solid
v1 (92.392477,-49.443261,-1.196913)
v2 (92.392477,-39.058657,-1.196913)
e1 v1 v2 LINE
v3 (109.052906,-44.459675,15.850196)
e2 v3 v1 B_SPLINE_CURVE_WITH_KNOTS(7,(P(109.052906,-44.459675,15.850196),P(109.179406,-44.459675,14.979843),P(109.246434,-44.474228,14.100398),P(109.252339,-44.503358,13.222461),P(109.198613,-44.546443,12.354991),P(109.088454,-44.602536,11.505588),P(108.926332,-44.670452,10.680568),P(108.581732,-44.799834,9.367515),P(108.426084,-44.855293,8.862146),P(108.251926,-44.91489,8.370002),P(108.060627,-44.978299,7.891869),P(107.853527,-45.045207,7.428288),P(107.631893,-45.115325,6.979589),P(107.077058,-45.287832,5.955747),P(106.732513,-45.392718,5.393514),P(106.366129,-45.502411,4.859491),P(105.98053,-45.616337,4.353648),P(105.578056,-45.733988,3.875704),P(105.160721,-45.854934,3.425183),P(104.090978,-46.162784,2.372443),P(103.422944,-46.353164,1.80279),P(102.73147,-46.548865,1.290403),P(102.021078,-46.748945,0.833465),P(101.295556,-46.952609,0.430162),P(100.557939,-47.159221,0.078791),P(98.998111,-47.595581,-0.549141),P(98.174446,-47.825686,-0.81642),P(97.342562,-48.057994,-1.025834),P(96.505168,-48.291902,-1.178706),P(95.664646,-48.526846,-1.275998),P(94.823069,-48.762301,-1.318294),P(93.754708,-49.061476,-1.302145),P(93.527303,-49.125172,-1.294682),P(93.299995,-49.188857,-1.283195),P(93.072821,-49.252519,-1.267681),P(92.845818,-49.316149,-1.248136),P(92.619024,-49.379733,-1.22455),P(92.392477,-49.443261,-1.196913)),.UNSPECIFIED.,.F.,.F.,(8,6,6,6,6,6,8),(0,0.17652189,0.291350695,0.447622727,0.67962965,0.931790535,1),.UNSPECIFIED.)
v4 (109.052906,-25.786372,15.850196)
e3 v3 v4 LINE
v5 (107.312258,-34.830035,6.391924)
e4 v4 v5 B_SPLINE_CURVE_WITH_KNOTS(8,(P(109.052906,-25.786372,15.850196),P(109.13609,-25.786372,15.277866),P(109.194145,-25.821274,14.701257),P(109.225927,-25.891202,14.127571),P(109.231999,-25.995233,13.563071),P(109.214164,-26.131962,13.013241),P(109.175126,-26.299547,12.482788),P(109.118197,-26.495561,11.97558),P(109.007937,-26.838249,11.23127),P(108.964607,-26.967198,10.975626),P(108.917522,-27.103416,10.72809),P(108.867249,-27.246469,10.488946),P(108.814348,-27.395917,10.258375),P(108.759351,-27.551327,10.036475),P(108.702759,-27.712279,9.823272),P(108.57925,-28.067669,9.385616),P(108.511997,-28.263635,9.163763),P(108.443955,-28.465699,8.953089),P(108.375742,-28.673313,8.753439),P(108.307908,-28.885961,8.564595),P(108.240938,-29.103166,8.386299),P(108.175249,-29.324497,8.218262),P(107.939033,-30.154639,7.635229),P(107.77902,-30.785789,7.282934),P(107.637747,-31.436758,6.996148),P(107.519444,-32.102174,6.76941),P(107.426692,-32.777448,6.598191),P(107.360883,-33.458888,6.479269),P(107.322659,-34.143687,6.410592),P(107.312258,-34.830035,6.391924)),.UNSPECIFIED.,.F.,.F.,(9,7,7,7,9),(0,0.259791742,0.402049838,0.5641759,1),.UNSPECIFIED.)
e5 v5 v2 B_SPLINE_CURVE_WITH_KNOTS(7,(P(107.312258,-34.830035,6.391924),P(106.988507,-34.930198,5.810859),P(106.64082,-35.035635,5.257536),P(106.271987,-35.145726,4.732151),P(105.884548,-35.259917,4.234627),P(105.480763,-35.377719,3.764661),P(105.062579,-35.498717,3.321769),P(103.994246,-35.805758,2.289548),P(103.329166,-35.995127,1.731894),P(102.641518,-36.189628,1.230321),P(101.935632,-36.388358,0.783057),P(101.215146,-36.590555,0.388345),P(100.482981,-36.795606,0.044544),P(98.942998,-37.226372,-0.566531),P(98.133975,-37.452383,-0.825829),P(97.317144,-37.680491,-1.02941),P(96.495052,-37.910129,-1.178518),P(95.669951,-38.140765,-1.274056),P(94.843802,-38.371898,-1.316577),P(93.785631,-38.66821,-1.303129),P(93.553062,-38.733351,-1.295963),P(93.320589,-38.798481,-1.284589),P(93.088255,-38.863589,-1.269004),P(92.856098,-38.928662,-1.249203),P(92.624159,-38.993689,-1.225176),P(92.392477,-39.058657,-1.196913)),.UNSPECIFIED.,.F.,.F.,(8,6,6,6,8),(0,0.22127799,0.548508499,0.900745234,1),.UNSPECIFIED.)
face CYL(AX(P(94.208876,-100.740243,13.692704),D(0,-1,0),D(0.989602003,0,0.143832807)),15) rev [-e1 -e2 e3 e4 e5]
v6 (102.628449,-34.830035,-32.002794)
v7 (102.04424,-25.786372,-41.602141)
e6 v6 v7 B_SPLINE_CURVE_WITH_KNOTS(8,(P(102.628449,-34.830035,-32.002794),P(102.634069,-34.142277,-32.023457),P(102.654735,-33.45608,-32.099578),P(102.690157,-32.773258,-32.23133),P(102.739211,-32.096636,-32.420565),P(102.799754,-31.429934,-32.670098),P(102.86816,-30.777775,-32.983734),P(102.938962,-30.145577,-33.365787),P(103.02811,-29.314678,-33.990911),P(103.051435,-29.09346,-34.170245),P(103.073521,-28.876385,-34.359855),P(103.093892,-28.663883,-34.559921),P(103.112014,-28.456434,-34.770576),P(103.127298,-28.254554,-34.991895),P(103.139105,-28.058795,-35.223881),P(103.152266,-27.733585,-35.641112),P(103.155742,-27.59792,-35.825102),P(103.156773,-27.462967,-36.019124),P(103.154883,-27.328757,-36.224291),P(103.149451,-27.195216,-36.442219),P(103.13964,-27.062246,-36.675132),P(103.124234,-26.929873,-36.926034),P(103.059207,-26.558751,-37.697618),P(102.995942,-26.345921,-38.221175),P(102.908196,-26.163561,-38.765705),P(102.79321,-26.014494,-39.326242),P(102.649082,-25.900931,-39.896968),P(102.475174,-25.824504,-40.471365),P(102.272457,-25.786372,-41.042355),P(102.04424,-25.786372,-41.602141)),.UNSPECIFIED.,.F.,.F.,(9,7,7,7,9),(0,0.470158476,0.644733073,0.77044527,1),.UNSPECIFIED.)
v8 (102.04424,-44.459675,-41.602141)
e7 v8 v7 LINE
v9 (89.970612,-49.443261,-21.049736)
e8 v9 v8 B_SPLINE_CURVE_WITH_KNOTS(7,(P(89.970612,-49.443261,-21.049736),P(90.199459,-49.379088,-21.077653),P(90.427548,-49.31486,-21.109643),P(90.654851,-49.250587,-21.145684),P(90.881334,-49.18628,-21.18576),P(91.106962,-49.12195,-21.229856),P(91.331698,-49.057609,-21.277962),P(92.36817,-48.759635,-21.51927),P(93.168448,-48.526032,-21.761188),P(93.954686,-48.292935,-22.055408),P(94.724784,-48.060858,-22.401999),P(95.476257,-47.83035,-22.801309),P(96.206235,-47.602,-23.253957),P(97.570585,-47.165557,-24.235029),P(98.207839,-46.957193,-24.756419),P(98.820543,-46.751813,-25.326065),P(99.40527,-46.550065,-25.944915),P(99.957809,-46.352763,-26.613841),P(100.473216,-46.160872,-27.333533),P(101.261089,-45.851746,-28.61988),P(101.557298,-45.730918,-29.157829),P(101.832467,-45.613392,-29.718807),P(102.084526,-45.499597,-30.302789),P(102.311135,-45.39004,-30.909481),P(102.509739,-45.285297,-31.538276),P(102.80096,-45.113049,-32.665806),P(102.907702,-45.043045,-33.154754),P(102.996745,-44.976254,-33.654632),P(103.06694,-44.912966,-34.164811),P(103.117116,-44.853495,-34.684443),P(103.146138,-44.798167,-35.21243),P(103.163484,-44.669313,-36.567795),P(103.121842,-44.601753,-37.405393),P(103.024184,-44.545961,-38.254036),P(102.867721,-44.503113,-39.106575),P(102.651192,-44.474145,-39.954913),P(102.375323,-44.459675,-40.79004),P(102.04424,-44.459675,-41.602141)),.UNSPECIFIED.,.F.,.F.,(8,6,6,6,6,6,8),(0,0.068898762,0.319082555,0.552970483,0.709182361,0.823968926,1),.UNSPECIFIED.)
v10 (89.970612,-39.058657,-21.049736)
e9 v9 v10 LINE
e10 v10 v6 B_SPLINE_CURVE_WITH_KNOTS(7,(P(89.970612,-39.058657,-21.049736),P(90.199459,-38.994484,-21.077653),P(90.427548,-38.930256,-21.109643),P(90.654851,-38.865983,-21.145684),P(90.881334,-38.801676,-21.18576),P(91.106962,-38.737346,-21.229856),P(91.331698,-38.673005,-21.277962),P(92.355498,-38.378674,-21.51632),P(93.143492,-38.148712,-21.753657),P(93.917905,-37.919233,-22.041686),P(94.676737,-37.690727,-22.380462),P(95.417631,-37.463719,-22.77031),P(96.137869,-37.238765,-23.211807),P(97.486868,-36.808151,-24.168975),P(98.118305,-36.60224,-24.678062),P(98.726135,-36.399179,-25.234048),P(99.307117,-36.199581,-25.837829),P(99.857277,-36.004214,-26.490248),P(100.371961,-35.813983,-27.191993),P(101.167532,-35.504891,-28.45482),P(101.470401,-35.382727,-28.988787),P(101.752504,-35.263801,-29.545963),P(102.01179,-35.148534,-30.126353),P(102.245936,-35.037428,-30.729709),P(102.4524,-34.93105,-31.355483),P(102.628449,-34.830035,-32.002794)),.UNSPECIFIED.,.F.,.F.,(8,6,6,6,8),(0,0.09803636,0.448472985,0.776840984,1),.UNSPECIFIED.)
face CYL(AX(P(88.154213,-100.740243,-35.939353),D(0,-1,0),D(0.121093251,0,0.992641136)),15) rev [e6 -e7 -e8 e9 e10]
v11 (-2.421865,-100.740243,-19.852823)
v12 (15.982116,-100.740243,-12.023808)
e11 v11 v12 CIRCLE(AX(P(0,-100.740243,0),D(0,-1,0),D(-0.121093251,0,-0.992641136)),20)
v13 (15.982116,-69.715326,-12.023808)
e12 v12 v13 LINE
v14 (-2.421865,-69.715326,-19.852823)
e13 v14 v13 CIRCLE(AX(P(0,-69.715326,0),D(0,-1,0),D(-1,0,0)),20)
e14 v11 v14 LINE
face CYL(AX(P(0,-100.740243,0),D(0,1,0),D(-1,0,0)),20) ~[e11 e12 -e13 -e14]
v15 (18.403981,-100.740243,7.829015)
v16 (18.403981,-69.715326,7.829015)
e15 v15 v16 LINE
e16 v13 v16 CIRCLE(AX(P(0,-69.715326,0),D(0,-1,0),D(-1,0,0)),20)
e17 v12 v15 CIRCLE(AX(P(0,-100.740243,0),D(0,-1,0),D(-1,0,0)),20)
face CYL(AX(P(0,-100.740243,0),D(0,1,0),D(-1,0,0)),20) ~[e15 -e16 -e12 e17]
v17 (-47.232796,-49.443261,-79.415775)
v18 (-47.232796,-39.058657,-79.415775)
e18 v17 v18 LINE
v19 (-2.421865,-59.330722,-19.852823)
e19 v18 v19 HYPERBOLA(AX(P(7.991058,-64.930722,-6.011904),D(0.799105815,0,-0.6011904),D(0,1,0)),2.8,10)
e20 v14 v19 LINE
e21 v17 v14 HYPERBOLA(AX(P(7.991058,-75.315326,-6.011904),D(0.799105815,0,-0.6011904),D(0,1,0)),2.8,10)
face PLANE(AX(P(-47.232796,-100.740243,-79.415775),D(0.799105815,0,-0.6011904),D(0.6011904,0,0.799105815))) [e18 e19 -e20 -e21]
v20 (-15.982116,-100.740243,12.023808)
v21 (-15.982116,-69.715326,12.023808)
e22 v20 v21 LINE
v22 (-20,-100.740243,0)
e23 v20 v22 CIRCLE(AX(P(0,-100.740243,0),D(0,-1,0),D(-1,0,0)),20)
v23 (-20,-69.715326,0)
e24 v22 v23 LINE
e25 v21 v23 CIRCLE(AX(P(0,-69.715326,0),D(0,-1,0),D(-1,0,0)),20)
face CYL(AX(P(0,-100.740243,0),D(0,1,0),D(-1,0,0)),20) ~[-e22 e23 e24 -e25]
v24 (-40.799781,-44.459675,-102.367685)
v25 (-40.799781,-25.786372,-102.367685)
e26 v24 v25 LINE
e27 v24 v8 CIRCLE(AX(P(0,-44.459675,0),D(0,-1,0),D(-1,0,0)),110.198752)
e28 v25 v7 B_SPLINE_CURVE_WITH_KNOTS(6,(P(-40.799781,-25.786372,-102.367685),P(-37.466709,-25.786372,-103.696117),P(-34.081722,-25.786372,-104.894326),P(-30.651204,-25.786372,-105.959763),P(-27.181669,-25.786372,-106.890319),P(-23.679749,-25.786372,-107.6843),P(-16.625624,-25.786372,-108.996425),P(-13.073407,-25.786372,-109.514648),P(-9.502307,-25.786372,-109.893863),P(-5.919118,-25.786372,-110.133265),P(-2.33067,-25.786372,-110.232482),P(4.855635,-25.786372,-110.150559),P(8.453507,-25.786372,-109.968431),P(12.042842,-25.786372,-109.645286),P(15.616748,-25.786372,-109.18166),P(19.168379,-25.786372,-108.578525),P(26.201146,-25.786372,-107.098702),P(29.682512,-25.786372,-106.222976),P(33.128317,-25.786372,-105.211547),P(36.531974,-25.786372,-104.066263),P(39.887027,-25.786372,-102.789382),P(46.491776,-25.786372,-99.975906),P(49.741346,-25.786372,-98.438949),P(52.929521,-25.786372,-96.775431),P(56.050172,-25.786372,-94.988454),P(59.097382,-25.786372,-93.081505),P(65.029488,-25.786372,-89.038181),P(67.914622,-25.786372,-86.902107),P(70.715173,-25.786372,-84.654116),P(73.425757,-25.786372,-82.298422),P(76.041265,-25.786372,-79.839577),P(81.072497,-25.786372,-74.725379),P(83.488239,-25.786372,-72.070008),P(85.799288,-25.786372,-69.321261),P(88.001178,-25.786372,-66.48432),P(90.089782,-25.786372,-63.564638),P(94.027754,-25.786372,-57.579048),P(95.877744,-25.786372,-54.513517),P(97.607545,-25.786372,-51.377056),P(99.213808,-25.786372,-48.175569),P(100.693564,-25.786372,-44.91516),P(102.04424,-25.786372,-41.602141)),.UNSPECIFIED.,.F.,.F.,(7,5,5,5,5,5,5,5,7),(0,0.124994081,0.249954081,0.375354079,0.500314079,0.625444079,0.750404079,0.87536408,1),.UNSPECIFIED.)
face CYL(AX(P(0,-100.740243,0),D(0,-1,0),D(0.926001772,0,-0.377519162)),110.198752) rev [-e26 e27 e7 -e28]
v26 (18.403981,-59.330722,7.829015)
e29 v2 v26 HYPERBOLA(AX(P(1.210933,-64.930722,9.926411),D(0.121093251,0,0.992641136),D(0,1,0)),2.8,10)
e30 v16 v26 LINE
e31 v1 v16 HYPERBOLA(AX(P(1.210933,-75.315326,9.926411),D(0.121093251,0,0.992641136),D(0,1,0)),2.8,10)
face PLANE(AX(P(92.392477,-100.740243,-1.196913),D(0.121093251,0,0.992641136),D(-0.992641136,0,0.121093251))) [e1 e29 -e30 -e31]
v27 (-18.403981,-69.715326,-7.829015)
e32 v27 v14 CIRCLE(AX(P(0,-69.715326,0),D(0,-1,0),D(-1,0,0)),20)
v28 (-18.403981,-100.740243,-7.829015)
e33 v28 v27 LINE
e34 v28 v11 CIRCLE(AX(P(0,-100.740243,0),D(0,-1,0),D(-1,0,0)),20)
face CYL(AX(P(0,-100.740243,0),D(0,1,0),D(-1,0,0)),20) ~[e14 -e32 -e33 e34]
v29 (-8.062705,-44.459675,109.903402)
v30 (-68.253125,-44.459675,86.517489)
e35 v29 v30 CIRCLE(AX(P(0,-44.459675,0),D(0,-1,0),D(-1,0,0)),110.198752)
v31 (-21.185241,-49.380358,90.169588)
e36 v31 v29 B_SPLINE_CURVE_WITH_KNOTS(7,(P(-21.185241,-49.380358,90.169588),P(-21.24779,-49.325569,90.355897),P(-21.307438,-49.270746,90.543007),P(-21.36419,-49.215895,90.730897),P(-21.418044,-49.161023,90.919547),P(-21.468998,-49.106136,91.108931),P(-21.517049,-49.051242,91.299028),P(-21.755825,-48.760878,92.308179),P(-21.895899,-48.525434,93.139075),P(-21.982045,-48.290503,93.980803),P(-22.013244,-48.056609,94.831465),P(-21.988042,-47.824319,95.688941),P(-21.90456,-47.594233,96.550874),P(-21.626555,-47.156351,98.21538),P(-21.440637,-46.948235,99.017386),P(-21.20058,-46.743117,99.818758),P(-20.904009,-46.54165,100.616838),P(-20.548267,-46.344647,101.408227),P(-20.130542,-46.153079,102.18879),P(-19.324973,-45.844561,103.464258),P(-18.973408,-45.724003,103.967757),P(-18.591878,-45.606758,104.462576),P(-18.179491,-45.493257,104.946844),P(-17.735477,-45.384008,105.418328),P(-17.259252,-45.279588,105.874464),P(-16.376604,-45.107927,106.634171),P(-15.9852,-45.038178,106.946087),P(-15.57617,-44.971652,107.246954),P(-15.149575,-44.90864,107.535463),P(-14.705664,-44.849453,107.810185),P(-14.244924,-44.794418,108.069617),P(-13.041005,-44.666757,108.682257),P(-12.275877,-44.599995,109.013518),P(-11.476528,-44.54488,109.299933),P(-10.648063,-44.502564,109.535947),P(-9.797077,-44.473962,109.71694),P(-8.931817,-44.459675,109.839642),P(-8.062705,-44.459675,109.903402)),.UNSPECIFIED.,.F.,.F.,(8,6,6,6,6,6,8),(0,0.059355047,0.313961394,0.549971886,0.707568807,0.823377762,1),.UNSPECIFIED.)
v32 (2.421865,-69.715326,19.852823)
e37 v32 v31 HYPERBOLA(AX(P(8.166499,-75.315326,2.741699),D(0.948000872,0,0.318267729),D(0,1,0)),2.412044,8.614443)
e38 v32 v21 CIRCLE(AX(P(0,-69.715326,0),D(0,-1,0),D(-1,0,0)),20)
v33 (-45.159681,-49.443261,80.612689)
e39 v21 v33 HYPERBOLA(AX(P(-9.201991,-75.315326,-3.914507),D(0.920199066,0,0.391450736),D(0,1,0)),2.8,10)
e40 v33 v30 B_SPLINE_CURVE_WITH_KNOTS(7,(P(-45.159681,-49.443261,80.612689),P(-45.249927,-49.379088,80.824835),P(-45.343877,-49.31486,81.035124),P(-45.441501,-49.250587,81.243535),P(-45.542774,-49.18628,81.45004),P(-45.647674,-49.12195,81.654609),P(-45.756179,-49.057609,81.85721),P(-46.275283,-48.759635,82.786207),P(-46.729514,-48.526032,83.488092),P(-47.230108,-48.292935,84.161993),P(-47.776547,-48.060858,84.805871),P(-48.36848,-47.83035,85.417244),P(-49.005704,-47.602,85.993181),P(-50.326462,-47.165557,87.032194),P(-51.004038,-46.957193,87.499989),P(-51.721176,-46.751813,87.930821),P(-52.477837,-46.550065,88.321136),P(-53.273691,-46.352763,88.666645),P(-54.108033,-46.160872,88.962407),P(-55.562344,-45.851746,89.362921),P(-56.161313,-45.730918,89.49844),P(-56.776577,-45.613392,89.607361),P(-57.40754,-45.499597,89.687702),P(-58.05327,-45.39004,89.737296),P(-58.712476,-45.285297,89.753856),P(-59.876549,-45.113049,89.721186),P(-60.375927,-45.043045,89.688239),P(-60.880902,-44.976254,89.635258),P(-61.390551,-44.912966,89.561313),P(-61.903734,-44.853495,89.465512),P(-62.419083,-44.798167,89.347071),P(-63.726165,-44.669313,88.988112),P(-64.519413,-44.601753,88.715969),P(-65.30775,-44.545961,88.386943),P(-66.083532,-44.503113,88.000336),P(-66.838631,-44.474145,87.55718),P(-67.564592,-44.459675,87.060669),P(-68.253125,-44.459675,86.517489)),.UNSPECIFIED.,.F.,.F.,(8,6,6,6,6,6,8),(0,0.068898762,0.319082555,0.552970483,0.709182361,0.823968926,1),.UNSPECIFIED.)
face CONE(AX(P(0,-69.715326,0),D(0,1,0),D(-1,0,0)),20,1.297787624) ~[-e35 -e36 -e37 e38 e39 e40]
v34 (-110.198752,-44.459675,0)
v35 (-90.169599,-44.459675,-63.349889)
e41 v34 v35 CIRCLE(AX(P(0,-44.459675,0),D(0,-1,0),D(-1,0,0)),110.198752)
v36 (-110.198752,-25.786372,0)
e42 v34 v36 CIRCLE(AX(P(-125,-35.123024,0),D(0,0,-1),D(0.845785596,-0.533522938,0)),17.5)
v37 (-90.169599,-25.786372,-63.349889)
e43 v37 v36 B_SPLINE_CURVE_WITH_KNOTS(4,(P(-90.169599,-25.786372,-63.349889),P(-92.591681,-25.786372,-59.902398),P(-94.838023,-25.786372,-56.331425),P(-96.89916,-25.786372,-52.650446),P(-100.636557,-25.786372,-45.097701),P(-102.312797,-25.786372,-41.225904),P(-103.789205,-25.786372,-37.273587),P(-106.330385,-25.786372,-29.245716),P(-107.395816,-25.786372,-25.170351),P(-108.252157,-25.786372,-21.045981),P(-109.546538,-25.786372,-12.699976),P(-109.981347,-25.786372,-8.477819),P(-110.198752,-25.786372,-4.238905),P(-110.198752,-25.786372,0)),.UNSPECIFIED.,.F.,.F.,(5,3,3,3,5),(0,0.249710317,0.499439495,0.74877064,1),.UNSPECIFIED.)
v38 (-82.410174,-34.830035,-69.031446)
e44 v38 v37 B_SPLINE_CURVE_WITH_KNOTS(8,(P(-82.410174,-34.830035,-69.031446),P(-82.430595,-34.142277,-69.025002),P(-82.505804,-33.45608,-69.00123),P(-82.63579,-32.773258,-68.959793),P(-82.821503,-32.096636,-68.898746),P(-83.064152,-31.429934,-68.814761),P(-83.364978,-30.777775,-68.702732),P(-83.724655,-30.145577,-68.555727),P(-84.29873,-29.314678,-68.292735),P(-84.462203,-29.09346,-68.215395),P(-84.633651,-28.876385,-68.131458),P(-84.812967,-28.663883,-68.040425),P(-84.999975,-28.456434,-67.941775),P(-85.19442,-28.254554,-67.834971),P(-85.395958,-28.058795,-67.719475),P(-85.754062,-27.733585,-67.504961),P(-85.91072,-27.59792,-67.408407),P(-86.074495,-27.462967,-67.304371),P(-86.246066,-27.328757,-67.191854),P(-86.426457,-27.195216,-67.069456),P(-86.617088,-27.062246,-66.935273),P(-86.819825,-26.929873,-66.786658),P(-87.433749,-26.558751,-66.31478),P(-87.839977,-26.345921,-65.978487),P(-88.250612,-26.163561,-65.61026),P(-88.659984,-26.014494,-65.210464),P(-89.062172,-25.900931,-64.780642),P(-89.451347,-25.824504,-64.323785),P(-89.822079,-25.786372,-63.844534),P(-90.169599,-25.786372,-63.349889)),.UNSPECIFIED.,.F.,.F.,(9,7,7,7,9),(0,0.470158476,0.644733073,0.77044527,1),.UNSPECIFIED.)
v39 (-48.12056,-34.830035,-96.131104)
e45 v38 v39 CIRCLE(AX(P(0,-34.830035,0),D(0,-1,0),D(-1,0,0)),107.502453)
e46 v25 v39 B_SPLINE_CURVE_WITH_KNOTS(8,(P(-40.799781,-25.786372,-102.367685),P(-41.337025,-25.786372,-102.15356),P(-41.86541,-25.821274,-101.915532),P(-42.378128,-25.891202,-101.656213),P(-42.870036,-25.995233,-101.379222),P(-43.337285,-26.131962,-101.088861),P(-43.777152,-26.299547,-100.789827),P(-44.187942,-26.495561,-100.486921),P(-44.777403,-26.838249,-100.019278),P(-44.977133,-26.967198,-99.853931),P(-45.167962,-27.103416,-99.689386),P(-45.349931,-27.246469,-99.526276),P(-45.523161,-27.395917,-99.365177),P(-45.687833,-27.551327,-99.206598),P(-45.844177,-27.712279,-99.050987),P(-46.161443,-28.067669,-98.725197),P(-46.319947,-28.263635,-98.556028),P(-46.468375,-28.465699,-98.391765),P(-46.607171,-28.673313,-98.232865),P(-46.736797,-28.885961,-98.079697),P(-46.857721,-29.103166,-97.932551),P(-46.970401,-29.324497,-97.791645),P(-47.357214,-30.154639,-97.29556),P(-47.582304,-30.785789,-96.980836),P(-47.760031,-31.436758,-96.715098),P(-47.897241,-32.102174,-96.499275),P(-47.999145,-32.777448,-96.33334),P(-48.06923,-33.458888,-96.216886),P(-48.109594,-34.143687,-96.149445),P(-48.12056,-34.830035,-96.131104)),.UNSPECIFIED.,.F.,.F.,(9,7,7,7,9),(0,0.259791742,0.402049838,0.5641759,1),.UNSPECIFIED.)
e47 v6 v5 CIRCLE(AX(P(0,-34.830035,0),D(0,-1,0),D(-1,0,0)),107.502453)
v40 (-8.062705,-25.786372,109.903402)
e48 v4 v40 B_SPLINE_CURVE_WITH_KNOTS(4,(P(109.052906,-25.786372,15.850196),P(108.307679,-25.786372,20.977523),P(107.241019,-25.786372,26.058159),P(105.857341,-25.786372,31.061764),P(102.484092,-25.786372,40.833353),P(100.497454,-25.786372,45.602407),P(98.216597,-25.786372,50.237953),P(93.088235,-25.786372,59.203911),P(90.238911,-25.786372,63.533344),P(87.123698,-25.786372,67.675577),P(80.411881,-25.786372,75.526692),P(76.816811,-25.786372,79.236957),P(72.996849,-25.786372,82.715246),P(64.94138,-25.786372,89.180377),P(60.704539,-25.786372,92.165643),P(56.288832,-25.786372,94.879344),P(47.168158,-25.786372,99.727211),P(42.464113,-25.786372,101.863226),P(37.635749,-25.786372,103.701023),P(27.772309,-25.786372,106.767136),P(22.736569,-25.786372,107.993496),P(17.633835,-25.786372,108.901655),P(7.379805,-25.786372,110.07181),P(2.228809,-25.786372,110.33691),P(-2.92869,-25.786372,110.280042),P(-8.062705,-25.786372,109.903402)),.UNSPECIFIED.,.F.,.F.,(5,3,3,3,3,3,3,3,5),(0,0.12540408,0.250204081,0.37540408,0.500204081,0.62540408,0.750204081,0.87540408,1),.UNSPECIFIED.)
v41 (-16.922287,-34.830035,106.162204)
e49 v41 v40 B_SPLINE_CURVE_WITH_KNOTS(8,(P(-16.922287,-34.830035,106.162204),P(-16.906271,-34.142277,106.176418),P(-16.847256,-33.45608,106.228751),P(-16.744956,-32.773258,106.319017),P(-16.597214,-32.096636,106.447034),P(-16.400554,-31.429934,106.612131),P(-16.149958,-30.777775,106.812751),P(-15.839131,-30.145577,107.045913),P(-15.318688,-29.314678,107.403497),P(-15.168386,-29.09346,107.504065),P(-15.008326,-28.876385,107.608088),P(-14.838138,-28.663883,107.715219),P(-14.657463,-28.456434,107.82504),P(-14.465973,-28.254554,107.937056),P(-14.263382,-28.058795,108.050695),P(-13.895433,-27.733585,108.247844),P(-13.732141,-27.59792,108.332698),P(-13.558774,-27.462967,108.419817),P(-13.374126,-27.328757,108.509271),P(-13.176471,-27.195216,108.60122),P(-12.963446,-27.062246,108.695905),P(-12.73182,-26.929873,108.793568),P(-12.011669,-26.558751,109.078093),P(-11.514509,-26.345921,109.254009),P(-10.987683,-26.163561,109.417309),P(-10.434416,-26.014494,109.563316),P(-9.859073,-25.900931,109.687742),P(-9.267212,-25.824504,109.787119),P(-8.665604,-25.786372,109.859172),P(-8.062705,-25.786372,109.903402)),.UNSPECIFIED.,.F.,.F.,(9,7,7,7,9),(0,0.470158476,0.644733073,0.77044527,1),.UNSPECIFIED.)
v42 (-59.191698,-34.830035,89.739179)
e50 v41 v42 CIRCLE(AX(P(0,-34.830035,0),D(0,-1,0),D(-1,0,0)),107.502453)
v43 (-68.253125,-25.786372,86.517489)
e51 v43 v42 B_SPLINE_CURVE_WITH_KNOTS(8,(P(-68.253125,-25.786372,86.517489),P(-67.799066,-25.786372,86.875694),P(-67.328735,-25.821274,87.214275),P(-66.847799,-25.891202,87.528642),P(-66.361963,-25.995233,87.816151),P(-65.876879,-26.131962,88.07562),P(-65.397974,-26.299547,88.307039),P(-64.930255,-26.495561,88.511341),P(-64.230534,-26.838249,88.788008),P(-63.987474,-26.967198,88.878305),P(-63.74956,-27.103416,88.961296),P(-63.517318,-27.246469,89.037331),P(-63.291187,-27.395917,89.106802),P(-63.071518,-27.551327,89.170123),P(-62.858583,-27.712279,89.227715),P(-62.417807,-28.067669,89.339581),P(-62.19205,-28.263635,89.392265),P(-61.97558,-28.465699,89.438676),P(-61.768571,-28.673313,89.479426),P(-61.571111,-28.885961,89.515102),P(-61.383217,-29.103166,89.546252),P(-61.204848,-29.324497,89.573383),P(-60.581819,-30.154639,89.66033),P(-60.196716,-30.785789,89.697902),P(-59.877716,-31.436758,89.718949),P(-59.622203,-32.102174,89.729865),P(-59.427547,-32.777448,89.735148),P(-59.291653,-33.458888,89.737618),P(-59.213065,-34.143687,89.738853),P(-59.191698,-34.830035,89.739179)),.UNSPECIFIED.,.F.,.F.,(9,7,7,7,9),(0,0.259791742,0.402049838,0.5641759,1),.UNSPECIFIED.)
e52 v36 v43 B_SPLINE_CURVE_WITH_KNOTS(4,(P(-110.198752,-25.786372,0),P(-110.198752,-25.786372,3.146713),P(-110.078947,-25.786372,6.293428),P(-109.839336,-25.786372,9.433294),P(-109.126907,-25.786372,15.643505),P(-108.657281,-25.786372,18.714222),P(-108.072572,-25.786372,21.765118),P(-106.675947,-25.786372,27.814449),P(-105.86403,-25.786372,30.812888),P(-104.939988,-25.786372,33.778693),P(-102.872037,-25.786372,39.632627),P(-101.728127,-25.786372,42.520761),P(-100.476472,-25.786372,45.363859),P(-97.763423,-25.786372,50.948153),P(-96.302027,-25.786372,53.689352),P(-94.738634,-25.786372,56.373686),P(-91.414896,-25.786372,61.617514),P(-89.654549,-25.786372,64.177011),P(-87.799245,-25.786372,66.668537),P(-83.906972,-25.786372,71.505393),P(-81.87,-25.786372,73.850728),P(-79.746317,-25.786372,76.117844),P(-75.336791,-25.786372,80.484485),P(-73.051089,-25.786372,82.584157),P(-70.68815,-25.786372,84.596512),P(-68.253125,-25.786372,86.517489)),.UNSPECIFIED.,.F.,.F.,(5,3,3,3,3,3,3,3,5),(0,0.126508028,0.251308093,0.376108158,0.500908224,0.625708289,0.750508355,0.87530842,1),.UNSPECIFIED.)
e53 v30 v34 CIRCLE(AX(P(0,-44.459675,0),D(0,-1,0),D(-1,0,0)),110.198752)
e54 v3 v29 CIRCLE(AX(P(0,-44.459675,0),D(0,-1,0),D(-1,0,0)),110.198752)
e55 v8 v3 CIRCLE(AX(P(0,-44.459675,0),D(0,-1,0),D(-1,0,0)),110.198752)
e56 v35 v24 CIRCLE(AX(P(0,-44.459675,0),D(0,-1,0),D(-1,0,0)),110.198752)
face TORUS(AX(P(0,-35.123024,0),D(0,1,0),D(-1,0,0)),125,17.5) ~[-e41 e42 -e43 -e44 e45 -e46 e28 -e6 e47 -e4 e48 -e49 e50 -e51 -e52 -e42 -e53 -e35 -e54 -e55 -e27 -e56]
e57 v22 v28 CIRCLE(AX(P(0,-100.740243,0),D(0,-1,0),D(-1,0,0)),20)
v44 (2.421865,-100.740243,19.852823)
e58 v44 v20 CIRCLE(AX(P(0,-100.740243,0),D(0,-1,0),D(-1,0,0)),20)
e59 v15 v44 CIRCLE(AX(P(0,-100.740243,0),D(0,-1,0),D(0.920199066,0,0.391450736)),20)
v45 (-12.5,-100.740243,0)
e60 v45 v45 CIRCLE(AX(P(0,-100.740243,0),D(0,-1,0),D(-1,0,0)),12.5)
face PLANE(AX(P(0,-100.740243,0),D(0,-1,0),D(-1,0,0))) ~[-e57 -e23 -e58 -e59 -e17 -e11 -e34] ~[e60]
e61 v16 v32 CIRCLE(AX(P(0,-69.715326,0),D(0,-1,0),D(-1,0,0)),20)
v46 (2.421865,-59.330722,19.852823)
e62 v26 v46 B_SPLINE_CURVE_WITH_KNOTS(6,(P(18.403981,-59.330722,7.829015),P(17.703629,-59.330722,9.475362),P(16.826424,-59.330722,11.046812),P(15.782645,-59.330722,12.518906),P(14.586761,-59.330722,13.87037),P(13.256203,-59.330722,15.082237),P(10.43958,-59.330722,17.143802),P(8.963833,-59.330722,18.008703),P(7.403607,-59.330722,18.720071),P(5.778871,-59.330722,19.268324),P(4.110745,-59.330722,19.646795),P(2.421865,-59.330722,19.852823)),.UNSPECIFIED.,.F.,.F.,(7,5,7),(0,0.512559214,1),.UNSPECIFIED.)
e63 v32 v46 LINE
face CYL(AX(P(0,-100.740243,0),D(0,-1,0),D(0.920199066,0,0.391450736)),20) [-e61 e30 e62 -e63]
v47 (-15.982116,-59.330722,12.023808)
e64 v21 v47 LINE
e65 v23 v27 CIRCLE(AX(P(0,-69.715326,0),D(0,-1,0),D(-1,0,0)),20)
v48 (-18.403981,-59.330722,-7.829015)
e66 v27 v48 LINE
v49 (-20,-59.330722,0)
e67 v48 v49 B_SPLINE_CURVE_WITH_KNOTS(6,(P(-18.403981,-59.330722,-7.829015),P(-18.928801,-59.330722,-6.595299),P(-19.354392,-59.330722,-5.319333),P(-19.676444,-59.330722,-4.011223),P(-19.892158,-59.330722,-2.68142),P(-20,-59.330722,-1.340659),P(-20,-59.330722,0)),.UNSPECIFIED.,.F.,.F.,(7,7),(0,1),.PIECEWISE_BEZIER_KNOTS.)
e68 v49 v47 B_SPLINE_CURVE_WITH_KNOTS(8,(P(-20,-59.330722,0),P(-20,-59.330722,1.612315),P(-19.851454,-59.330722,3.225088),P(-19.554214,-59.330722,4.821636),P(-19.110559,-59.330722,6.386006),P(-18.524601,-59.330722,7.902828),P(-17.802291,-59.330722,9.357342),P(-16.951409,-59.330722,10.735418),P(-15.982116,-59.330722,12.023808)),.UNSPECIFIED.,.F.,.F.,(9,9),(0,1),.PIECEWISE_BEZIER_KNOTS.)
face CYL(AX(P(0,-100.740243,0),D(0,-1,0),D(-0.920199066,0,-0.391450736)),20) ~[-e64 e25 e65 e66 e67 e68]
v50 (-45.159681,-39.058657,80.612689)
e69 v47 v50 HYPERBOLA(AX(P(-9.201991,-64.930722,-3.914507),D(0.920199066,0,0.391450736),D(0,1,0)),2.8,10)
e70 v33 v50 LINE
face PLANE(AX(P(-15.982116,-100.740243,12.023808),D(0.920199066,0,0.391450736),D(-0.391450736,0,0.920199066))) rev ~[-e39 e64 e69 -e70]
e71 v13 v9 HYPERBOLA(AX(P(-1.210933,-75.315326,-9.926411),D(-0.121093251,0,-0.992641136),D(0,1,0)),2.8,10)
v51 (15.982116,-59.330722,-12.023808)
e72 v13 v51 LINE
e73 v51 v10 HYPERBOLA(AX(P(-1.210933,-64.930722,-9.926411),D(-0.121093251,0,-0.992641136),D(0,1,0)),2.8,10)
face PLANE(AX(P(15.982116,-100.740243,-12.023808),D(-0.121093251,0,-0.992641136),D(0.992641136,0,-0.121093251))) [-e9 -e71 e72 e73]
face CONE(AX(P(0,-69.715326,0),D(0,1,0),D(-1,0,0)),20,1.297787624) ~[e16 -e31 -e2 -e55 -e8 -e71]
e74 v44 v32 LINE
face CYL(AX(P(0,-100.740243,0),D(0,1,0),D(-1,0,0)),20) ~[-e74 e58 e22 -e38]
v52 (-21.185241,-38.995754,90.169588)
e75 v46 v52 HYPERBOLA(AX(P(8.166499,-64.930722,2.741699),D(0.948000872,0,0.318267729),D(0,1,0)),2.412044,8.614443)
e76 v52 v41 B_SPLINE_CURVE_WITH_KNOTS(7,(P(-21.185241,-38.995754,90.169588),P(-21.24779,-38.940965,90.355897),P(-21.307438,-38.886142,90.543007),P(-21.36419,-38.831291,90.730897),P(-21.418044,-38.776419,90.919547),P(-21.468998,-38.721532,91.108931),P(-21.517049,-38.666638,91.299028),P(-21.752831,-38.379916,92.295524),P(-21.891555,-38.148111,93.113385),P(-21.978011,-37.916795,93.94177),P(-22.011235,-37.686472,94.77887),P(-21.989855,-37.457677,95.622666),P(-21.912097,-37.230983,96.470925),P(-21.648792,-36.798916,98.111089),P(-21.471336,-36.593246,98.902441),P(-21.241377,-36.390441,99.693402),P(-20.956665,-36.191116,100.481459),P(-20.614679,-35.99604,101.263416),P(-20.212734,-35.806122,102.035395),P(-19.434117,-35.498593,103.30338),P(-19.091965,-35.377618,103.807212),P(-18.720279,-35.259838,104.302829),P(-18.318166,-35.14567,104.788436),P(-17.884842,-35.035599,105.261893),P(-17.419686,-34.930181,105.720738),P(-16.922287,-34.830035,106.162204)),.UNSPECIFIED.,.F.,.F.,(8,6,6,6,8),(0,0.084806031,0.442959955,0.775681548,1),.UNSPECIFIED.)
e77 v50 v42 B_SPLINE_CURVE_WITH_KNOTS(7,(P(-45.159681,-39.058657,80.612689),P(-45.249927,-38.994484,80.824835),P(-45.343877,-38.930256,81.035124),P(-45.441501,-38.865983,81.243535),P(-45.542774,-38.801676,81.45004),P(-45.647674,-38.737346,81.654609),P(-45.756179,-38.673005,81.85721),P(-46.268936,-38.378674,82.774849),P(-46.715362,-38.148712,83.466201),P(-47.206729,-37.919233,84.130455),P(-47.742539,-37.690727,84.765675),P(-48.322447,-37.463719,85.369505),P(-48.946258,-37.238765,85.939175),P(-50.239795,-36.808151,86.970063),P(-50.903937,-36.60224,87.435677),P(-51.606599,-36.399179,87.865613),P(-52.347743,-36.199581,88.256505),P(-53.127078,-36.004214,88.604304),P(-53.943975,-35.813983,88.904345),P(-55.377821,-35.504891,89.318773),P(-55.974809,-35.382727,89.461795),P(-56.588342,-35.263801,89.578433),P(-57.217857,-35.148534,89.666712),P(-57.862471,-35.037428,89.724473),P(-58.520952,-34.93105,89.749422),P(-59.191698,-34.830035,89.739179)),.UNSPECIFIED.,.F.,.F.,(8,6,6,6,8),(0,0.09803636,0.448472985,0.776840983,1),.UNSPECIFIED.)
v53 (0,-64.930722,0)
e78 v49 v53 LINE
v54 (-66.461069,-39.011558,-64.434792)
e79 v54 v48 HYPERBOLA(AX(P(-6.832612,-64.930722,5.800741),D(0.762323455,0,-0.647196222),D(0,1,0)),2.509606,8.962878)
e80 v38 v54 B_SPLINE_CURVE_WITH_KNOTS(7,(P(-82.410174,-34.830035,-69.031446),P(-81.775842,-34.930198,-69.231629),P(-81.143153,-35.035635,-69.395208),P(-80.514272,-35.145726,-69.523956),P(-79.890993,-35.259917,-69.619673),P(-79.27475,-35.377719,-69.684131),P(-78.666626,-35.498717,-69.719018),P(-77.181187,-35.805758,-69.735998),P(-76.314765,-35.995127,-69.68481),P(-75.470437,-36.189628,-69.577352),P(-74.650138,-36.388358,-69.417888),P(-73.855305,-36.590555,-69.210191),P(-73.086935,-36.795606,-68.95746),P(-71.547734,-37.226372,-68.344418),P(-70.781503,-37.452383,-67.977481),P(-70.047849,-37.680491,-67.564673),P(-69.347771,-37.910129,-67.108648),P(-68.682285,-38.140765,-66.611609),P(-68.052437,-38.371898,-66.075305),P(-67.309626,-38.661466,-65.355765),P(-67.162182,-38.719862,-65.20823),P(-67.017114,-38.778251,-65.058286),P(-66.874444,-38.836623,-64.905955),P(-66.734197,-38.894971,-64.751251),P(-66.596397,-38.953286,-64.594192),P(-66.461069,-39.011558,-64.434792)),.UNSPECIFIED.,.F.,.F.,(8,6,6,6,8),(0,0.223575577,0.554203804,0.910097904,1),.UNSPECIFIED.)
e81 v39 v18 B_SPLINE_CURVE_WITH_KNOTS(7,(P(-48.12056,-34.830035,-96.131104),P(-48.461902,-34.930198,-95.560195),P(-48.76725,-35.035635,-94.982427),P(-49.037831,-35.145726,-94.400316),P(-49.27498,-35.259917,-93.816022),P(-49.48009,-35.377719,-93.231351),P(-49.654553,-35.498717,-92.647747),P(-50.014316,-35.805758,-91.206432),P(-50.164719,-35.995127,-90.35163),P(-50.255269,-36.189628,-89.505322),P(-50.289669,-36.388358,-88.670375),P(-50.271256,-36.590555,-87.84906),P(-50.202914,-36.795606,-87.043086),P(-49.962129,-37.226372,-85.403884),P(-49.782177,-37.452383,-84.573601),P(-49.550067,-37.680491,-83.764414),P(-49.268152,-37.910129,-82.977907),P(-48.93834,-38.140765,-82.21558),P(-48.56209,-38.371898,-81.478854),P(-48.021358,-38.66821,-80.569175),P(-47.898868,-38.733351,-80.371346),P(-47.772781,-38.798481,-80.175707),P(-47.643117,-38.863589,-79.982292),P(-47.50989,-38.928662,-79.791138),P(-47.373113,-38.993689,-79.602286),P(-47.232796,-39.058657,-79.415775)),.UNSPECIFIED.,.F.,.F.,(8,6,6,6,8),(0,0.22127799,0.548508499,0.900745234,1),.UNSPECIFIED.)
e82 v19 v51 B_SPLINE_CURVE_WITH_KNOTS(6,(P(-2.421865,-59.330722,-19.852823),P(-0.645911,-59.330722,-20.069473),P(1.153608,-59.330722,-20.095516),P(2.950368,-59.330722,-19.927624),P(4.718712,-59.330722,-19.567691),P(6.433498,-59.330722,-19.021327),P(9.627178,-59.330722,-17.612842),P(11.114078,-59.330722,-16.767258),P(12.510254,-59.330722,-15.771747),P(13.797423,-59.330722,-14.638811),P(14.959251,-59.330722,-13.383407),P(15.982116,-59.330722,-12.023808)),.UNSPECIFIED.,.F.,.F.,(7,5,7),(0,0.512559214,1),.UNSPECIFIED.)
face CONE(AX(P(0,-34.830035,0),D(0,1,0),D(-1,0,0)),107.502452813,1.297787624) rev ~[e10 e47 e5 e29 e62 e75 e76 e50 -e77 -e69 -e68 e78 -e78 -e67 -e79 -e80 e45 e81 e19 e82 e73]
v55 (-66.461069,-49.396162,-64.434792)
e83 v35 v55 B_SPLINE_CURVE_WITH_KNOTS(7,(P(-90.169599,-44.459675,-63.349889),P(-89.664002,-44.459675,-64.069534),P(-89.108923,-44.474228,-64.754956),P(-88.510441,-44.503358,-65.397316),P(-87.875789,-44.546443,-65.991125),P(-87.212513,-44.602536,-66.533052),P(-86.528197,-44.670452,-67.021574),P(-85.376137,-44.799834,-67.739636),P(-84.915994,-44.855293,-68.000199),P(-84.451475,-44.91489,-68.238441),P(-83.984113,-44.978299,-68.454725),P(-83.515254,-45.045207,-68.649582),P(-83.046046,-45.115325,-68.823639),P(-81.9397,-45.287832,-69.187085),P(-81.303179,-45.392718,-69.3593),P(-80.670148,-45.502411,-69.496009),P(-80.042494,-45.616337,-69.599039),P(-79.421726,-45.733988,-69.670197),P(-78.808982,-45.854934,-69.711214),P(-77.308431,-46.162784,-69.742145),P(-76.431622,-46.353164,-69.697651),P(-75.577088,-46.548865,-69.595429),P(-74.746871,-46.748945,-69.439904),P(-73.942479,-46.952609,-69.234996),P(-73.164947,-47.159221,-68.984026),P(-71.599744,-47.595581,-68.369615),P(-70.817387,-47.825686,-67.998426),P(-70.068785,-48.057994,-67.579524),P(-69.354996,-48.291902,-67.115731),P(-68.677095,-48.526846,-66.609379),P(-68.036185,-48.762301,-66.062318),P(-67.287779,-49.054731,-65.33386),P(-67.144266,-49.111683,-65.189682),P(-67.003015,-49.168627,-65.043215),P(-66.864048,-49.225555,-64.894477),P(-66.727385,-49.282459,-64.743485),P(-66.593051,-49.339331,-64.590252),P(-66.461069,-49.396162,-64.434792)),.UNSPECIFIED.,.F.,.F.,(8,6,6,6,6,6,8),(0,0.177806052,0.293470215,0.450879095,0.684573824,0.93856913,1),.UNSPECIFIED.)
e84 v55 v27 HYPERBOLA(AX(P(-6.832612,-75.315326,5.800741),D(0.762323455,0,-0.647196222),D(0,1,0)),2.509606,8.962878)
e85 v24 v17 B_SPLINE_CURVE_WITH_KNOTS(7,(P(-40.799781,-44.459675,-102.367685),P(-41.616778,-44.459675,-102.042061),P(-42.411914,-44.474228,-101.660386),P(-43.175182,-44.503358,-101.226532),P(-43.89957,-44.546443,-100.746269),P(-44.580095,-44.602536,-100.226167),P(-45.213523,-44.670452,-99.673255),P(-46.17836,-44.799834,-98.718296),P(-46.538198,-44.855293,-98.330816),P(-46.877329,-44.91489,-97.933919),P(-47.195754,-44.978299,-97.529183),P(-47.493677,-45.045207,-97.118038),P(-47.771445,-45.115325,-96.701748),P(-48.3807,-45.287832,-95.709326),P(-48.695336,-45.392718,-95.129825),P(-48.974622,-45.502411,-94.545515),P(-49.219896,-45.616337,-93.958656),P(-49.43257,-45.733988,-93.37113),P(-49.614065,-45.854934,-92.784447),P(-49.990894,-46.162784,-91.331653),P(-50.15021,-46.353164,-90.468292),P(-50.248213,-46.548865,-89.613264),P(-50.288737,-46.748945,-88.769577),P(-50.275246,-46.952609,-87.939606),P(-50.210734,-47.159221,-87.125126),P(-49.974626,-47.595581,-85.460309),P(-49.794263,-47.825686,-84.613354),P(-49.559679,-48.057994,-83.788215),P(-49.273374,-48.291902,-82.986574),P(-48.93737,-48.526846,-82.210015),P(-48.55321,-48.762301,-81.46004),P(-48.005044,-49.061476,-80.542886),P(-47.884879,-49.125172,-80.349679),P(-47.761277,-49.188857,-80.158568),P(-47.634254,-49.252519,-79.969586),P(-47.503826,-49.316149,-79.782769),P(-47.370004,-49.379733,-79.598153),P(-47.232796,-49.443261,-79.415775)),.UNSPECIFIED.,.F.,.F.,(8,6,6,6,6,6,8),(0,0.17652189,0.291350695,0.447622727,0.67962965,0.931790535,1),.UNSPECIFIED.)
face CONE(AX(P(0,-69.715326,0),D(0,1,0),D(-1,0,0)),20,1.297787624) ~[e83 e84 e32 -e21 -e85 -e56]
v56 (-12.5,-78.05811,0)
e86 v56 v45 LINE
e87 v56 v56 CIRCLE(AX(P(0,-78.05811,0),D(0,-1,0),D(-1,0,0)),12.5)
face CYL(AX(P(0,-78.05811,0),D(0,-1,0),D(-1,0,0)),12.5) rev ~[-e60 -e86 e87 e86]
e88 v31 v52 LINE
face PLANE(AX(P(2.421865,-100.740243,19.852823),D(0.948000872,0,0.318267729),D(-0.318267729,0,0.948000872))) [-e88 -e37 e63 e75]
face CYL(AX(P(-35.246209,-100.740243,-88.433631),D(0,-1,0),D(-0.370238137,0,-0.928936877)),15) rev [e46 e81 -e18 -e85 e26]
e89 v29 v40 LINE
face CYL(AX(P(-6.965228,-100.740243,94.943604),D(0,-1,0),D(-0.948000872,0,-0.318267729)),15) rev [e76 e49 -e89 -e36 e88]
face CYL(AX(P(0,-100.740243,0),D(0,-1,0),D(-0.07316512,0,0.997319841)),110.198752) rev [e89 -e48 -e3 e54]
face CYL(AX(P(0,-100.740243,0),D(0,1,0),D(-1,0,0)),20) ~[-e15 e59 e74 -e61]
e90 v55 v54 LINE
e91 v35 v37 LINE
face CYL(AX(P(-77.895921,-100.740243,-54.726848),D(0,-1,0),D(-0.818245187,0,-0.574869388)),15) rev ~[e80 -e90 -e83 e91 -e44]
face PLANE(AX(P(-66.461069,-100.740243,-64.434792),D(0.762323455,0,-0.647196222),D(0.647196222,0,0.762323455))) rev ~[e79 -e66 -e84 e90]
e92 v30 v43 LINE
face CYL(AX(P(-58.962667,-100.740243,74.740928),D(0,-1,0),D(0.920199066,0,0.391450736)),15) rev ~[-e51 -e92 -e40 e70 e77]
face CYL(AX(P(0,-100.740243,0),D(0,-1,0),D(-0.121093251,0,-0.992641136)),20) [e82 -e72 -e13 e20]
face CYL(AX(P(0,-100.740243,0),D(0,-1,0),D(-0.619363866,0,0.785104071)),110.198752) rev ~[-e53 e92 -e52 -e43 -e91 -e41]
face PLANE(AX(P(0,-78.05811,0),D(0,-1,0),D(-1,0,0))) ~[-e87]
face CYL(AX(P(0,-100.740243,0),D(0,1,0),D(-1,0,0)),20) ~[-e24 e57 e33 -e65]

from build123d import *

# Parameters (mm, degrees)
CUT_EXTRUDE1_DEPTH = 218.993055499


with BuildPart() as part:
    # Sketch1 → Revolve1 (revolve)
    with BuildSketch(Plane.XY, mode=Mode.PRIVATE) as revolve1_sk:
        with BuildLine():
            Line((20, -100.740243091), (20, -69.715325618))
            Line((20, -69.715325618), (110.198752068, -44.459675039))
            ThreePointArc((110.198752068, -44.459675039), (141.851870345, -30.404499927), (107.502452813, -34.830034842))
            Line((107.502452813, -34.830034842), (0, -64.930721629))
            Line((0, -64.930721629), (0, -78.058110007))
            Line((0, -78.058110007), (12.5, -78.058110007))
            Line((12.5, -78.058110007), (12.5, -100.740243091))
            Line((12.5, -100.740243091), (20, -100.740243091))
        make_face()
    revolve(revolve1_sk.sketch.rotate(Axis((0, 122.203800038, 0), (0, -1, 0)), 180), axis=Axis((0, 122.203800038, 0), (0, -1, 0)))

    # Sketch3 → Cut-Extrude1 (cut, through all)
    with BuildSketch(Plane.XZ.offset(100.740243091)):
        with BuildLine():
            Line((-15.982116295, 12.023807996), (-45.159681095, 80.612688819))
            ThreePointArc((-45.159681095, 80.612688819), (-55.246837021, 89.273395117), (-68.253125072, 86.51748884))
            ThreePointArc((-68.253125072, 86.51748884), (-109.03897279, 15.945763394), (-90.169598509, -63.349889203))
            ThreePointArc((-90.169598509, -63.349889203), (-78.581603296, -69.711168161), (-66.461068877, -64.43479171))
            Line((-66.461068877, -64.43479171), (-18.403981322, -7.82901472))
            ThreePointArc((-18.403981322, -7.82901472), (-19.852822716, 2.421865027), (-15.982116295, 12.023807996))
        make_face()
        with BuildLine():
            Line((15.982116295, -12.023807996), (89.970611905, -21.04973607))
            ThreePointArc((89.970611905, -21.04973607), (101.087630383, -28.341543009), (102.04423972, -41.602140538))
            ThreePointArc((102.04423972, -41.602140538), (43.137382604, -101.40478874), (-40.799780672, -102.36768462))
            ThreePointArc((-40.799780672, -102.36768462), (-49.689609543, -92.481861898), (-47.232795837, -79.415775465))
            Line((-47.232795837, -79.415775465), (-2.421865027, -19.852822716))
            ThreePointArc((-2.421865027, -19.852822716), (7.82901472, -18.403981322), (15.982116295, -12.023807996))
        make_face()
        with BuildLine():
            Line((2.421865027, 19.852822716), (-21.185241198, 90.169588344))
            ThreePointArc((-21.185241198, 90.169588344), (-19.455713432, 103.249492349), (-8.062704922, 109.903401888))
            ThreePointArc((-8.062704922, 109.903401888), (69.001859108, 85.921524643), (109.052905743, 15.85019578))
            ThreePointArc((109.052905743, 15.85019578), (104.936446564, 3.208466781), (92.392476932, -1.196913354))
            Line((92.392476932, -1.196913354), (18.403981322, 7.82901472))
            ThreePointArc((18.403981322, 7.82901472), (12.023807996, 15.982116295), (2.421865027, 19.852822716))
        make_face()
    extrude(amount=-CUT_EXTRUDE1_DEPTH, mode=Mode.SUBTRACT)


solid = part.part
